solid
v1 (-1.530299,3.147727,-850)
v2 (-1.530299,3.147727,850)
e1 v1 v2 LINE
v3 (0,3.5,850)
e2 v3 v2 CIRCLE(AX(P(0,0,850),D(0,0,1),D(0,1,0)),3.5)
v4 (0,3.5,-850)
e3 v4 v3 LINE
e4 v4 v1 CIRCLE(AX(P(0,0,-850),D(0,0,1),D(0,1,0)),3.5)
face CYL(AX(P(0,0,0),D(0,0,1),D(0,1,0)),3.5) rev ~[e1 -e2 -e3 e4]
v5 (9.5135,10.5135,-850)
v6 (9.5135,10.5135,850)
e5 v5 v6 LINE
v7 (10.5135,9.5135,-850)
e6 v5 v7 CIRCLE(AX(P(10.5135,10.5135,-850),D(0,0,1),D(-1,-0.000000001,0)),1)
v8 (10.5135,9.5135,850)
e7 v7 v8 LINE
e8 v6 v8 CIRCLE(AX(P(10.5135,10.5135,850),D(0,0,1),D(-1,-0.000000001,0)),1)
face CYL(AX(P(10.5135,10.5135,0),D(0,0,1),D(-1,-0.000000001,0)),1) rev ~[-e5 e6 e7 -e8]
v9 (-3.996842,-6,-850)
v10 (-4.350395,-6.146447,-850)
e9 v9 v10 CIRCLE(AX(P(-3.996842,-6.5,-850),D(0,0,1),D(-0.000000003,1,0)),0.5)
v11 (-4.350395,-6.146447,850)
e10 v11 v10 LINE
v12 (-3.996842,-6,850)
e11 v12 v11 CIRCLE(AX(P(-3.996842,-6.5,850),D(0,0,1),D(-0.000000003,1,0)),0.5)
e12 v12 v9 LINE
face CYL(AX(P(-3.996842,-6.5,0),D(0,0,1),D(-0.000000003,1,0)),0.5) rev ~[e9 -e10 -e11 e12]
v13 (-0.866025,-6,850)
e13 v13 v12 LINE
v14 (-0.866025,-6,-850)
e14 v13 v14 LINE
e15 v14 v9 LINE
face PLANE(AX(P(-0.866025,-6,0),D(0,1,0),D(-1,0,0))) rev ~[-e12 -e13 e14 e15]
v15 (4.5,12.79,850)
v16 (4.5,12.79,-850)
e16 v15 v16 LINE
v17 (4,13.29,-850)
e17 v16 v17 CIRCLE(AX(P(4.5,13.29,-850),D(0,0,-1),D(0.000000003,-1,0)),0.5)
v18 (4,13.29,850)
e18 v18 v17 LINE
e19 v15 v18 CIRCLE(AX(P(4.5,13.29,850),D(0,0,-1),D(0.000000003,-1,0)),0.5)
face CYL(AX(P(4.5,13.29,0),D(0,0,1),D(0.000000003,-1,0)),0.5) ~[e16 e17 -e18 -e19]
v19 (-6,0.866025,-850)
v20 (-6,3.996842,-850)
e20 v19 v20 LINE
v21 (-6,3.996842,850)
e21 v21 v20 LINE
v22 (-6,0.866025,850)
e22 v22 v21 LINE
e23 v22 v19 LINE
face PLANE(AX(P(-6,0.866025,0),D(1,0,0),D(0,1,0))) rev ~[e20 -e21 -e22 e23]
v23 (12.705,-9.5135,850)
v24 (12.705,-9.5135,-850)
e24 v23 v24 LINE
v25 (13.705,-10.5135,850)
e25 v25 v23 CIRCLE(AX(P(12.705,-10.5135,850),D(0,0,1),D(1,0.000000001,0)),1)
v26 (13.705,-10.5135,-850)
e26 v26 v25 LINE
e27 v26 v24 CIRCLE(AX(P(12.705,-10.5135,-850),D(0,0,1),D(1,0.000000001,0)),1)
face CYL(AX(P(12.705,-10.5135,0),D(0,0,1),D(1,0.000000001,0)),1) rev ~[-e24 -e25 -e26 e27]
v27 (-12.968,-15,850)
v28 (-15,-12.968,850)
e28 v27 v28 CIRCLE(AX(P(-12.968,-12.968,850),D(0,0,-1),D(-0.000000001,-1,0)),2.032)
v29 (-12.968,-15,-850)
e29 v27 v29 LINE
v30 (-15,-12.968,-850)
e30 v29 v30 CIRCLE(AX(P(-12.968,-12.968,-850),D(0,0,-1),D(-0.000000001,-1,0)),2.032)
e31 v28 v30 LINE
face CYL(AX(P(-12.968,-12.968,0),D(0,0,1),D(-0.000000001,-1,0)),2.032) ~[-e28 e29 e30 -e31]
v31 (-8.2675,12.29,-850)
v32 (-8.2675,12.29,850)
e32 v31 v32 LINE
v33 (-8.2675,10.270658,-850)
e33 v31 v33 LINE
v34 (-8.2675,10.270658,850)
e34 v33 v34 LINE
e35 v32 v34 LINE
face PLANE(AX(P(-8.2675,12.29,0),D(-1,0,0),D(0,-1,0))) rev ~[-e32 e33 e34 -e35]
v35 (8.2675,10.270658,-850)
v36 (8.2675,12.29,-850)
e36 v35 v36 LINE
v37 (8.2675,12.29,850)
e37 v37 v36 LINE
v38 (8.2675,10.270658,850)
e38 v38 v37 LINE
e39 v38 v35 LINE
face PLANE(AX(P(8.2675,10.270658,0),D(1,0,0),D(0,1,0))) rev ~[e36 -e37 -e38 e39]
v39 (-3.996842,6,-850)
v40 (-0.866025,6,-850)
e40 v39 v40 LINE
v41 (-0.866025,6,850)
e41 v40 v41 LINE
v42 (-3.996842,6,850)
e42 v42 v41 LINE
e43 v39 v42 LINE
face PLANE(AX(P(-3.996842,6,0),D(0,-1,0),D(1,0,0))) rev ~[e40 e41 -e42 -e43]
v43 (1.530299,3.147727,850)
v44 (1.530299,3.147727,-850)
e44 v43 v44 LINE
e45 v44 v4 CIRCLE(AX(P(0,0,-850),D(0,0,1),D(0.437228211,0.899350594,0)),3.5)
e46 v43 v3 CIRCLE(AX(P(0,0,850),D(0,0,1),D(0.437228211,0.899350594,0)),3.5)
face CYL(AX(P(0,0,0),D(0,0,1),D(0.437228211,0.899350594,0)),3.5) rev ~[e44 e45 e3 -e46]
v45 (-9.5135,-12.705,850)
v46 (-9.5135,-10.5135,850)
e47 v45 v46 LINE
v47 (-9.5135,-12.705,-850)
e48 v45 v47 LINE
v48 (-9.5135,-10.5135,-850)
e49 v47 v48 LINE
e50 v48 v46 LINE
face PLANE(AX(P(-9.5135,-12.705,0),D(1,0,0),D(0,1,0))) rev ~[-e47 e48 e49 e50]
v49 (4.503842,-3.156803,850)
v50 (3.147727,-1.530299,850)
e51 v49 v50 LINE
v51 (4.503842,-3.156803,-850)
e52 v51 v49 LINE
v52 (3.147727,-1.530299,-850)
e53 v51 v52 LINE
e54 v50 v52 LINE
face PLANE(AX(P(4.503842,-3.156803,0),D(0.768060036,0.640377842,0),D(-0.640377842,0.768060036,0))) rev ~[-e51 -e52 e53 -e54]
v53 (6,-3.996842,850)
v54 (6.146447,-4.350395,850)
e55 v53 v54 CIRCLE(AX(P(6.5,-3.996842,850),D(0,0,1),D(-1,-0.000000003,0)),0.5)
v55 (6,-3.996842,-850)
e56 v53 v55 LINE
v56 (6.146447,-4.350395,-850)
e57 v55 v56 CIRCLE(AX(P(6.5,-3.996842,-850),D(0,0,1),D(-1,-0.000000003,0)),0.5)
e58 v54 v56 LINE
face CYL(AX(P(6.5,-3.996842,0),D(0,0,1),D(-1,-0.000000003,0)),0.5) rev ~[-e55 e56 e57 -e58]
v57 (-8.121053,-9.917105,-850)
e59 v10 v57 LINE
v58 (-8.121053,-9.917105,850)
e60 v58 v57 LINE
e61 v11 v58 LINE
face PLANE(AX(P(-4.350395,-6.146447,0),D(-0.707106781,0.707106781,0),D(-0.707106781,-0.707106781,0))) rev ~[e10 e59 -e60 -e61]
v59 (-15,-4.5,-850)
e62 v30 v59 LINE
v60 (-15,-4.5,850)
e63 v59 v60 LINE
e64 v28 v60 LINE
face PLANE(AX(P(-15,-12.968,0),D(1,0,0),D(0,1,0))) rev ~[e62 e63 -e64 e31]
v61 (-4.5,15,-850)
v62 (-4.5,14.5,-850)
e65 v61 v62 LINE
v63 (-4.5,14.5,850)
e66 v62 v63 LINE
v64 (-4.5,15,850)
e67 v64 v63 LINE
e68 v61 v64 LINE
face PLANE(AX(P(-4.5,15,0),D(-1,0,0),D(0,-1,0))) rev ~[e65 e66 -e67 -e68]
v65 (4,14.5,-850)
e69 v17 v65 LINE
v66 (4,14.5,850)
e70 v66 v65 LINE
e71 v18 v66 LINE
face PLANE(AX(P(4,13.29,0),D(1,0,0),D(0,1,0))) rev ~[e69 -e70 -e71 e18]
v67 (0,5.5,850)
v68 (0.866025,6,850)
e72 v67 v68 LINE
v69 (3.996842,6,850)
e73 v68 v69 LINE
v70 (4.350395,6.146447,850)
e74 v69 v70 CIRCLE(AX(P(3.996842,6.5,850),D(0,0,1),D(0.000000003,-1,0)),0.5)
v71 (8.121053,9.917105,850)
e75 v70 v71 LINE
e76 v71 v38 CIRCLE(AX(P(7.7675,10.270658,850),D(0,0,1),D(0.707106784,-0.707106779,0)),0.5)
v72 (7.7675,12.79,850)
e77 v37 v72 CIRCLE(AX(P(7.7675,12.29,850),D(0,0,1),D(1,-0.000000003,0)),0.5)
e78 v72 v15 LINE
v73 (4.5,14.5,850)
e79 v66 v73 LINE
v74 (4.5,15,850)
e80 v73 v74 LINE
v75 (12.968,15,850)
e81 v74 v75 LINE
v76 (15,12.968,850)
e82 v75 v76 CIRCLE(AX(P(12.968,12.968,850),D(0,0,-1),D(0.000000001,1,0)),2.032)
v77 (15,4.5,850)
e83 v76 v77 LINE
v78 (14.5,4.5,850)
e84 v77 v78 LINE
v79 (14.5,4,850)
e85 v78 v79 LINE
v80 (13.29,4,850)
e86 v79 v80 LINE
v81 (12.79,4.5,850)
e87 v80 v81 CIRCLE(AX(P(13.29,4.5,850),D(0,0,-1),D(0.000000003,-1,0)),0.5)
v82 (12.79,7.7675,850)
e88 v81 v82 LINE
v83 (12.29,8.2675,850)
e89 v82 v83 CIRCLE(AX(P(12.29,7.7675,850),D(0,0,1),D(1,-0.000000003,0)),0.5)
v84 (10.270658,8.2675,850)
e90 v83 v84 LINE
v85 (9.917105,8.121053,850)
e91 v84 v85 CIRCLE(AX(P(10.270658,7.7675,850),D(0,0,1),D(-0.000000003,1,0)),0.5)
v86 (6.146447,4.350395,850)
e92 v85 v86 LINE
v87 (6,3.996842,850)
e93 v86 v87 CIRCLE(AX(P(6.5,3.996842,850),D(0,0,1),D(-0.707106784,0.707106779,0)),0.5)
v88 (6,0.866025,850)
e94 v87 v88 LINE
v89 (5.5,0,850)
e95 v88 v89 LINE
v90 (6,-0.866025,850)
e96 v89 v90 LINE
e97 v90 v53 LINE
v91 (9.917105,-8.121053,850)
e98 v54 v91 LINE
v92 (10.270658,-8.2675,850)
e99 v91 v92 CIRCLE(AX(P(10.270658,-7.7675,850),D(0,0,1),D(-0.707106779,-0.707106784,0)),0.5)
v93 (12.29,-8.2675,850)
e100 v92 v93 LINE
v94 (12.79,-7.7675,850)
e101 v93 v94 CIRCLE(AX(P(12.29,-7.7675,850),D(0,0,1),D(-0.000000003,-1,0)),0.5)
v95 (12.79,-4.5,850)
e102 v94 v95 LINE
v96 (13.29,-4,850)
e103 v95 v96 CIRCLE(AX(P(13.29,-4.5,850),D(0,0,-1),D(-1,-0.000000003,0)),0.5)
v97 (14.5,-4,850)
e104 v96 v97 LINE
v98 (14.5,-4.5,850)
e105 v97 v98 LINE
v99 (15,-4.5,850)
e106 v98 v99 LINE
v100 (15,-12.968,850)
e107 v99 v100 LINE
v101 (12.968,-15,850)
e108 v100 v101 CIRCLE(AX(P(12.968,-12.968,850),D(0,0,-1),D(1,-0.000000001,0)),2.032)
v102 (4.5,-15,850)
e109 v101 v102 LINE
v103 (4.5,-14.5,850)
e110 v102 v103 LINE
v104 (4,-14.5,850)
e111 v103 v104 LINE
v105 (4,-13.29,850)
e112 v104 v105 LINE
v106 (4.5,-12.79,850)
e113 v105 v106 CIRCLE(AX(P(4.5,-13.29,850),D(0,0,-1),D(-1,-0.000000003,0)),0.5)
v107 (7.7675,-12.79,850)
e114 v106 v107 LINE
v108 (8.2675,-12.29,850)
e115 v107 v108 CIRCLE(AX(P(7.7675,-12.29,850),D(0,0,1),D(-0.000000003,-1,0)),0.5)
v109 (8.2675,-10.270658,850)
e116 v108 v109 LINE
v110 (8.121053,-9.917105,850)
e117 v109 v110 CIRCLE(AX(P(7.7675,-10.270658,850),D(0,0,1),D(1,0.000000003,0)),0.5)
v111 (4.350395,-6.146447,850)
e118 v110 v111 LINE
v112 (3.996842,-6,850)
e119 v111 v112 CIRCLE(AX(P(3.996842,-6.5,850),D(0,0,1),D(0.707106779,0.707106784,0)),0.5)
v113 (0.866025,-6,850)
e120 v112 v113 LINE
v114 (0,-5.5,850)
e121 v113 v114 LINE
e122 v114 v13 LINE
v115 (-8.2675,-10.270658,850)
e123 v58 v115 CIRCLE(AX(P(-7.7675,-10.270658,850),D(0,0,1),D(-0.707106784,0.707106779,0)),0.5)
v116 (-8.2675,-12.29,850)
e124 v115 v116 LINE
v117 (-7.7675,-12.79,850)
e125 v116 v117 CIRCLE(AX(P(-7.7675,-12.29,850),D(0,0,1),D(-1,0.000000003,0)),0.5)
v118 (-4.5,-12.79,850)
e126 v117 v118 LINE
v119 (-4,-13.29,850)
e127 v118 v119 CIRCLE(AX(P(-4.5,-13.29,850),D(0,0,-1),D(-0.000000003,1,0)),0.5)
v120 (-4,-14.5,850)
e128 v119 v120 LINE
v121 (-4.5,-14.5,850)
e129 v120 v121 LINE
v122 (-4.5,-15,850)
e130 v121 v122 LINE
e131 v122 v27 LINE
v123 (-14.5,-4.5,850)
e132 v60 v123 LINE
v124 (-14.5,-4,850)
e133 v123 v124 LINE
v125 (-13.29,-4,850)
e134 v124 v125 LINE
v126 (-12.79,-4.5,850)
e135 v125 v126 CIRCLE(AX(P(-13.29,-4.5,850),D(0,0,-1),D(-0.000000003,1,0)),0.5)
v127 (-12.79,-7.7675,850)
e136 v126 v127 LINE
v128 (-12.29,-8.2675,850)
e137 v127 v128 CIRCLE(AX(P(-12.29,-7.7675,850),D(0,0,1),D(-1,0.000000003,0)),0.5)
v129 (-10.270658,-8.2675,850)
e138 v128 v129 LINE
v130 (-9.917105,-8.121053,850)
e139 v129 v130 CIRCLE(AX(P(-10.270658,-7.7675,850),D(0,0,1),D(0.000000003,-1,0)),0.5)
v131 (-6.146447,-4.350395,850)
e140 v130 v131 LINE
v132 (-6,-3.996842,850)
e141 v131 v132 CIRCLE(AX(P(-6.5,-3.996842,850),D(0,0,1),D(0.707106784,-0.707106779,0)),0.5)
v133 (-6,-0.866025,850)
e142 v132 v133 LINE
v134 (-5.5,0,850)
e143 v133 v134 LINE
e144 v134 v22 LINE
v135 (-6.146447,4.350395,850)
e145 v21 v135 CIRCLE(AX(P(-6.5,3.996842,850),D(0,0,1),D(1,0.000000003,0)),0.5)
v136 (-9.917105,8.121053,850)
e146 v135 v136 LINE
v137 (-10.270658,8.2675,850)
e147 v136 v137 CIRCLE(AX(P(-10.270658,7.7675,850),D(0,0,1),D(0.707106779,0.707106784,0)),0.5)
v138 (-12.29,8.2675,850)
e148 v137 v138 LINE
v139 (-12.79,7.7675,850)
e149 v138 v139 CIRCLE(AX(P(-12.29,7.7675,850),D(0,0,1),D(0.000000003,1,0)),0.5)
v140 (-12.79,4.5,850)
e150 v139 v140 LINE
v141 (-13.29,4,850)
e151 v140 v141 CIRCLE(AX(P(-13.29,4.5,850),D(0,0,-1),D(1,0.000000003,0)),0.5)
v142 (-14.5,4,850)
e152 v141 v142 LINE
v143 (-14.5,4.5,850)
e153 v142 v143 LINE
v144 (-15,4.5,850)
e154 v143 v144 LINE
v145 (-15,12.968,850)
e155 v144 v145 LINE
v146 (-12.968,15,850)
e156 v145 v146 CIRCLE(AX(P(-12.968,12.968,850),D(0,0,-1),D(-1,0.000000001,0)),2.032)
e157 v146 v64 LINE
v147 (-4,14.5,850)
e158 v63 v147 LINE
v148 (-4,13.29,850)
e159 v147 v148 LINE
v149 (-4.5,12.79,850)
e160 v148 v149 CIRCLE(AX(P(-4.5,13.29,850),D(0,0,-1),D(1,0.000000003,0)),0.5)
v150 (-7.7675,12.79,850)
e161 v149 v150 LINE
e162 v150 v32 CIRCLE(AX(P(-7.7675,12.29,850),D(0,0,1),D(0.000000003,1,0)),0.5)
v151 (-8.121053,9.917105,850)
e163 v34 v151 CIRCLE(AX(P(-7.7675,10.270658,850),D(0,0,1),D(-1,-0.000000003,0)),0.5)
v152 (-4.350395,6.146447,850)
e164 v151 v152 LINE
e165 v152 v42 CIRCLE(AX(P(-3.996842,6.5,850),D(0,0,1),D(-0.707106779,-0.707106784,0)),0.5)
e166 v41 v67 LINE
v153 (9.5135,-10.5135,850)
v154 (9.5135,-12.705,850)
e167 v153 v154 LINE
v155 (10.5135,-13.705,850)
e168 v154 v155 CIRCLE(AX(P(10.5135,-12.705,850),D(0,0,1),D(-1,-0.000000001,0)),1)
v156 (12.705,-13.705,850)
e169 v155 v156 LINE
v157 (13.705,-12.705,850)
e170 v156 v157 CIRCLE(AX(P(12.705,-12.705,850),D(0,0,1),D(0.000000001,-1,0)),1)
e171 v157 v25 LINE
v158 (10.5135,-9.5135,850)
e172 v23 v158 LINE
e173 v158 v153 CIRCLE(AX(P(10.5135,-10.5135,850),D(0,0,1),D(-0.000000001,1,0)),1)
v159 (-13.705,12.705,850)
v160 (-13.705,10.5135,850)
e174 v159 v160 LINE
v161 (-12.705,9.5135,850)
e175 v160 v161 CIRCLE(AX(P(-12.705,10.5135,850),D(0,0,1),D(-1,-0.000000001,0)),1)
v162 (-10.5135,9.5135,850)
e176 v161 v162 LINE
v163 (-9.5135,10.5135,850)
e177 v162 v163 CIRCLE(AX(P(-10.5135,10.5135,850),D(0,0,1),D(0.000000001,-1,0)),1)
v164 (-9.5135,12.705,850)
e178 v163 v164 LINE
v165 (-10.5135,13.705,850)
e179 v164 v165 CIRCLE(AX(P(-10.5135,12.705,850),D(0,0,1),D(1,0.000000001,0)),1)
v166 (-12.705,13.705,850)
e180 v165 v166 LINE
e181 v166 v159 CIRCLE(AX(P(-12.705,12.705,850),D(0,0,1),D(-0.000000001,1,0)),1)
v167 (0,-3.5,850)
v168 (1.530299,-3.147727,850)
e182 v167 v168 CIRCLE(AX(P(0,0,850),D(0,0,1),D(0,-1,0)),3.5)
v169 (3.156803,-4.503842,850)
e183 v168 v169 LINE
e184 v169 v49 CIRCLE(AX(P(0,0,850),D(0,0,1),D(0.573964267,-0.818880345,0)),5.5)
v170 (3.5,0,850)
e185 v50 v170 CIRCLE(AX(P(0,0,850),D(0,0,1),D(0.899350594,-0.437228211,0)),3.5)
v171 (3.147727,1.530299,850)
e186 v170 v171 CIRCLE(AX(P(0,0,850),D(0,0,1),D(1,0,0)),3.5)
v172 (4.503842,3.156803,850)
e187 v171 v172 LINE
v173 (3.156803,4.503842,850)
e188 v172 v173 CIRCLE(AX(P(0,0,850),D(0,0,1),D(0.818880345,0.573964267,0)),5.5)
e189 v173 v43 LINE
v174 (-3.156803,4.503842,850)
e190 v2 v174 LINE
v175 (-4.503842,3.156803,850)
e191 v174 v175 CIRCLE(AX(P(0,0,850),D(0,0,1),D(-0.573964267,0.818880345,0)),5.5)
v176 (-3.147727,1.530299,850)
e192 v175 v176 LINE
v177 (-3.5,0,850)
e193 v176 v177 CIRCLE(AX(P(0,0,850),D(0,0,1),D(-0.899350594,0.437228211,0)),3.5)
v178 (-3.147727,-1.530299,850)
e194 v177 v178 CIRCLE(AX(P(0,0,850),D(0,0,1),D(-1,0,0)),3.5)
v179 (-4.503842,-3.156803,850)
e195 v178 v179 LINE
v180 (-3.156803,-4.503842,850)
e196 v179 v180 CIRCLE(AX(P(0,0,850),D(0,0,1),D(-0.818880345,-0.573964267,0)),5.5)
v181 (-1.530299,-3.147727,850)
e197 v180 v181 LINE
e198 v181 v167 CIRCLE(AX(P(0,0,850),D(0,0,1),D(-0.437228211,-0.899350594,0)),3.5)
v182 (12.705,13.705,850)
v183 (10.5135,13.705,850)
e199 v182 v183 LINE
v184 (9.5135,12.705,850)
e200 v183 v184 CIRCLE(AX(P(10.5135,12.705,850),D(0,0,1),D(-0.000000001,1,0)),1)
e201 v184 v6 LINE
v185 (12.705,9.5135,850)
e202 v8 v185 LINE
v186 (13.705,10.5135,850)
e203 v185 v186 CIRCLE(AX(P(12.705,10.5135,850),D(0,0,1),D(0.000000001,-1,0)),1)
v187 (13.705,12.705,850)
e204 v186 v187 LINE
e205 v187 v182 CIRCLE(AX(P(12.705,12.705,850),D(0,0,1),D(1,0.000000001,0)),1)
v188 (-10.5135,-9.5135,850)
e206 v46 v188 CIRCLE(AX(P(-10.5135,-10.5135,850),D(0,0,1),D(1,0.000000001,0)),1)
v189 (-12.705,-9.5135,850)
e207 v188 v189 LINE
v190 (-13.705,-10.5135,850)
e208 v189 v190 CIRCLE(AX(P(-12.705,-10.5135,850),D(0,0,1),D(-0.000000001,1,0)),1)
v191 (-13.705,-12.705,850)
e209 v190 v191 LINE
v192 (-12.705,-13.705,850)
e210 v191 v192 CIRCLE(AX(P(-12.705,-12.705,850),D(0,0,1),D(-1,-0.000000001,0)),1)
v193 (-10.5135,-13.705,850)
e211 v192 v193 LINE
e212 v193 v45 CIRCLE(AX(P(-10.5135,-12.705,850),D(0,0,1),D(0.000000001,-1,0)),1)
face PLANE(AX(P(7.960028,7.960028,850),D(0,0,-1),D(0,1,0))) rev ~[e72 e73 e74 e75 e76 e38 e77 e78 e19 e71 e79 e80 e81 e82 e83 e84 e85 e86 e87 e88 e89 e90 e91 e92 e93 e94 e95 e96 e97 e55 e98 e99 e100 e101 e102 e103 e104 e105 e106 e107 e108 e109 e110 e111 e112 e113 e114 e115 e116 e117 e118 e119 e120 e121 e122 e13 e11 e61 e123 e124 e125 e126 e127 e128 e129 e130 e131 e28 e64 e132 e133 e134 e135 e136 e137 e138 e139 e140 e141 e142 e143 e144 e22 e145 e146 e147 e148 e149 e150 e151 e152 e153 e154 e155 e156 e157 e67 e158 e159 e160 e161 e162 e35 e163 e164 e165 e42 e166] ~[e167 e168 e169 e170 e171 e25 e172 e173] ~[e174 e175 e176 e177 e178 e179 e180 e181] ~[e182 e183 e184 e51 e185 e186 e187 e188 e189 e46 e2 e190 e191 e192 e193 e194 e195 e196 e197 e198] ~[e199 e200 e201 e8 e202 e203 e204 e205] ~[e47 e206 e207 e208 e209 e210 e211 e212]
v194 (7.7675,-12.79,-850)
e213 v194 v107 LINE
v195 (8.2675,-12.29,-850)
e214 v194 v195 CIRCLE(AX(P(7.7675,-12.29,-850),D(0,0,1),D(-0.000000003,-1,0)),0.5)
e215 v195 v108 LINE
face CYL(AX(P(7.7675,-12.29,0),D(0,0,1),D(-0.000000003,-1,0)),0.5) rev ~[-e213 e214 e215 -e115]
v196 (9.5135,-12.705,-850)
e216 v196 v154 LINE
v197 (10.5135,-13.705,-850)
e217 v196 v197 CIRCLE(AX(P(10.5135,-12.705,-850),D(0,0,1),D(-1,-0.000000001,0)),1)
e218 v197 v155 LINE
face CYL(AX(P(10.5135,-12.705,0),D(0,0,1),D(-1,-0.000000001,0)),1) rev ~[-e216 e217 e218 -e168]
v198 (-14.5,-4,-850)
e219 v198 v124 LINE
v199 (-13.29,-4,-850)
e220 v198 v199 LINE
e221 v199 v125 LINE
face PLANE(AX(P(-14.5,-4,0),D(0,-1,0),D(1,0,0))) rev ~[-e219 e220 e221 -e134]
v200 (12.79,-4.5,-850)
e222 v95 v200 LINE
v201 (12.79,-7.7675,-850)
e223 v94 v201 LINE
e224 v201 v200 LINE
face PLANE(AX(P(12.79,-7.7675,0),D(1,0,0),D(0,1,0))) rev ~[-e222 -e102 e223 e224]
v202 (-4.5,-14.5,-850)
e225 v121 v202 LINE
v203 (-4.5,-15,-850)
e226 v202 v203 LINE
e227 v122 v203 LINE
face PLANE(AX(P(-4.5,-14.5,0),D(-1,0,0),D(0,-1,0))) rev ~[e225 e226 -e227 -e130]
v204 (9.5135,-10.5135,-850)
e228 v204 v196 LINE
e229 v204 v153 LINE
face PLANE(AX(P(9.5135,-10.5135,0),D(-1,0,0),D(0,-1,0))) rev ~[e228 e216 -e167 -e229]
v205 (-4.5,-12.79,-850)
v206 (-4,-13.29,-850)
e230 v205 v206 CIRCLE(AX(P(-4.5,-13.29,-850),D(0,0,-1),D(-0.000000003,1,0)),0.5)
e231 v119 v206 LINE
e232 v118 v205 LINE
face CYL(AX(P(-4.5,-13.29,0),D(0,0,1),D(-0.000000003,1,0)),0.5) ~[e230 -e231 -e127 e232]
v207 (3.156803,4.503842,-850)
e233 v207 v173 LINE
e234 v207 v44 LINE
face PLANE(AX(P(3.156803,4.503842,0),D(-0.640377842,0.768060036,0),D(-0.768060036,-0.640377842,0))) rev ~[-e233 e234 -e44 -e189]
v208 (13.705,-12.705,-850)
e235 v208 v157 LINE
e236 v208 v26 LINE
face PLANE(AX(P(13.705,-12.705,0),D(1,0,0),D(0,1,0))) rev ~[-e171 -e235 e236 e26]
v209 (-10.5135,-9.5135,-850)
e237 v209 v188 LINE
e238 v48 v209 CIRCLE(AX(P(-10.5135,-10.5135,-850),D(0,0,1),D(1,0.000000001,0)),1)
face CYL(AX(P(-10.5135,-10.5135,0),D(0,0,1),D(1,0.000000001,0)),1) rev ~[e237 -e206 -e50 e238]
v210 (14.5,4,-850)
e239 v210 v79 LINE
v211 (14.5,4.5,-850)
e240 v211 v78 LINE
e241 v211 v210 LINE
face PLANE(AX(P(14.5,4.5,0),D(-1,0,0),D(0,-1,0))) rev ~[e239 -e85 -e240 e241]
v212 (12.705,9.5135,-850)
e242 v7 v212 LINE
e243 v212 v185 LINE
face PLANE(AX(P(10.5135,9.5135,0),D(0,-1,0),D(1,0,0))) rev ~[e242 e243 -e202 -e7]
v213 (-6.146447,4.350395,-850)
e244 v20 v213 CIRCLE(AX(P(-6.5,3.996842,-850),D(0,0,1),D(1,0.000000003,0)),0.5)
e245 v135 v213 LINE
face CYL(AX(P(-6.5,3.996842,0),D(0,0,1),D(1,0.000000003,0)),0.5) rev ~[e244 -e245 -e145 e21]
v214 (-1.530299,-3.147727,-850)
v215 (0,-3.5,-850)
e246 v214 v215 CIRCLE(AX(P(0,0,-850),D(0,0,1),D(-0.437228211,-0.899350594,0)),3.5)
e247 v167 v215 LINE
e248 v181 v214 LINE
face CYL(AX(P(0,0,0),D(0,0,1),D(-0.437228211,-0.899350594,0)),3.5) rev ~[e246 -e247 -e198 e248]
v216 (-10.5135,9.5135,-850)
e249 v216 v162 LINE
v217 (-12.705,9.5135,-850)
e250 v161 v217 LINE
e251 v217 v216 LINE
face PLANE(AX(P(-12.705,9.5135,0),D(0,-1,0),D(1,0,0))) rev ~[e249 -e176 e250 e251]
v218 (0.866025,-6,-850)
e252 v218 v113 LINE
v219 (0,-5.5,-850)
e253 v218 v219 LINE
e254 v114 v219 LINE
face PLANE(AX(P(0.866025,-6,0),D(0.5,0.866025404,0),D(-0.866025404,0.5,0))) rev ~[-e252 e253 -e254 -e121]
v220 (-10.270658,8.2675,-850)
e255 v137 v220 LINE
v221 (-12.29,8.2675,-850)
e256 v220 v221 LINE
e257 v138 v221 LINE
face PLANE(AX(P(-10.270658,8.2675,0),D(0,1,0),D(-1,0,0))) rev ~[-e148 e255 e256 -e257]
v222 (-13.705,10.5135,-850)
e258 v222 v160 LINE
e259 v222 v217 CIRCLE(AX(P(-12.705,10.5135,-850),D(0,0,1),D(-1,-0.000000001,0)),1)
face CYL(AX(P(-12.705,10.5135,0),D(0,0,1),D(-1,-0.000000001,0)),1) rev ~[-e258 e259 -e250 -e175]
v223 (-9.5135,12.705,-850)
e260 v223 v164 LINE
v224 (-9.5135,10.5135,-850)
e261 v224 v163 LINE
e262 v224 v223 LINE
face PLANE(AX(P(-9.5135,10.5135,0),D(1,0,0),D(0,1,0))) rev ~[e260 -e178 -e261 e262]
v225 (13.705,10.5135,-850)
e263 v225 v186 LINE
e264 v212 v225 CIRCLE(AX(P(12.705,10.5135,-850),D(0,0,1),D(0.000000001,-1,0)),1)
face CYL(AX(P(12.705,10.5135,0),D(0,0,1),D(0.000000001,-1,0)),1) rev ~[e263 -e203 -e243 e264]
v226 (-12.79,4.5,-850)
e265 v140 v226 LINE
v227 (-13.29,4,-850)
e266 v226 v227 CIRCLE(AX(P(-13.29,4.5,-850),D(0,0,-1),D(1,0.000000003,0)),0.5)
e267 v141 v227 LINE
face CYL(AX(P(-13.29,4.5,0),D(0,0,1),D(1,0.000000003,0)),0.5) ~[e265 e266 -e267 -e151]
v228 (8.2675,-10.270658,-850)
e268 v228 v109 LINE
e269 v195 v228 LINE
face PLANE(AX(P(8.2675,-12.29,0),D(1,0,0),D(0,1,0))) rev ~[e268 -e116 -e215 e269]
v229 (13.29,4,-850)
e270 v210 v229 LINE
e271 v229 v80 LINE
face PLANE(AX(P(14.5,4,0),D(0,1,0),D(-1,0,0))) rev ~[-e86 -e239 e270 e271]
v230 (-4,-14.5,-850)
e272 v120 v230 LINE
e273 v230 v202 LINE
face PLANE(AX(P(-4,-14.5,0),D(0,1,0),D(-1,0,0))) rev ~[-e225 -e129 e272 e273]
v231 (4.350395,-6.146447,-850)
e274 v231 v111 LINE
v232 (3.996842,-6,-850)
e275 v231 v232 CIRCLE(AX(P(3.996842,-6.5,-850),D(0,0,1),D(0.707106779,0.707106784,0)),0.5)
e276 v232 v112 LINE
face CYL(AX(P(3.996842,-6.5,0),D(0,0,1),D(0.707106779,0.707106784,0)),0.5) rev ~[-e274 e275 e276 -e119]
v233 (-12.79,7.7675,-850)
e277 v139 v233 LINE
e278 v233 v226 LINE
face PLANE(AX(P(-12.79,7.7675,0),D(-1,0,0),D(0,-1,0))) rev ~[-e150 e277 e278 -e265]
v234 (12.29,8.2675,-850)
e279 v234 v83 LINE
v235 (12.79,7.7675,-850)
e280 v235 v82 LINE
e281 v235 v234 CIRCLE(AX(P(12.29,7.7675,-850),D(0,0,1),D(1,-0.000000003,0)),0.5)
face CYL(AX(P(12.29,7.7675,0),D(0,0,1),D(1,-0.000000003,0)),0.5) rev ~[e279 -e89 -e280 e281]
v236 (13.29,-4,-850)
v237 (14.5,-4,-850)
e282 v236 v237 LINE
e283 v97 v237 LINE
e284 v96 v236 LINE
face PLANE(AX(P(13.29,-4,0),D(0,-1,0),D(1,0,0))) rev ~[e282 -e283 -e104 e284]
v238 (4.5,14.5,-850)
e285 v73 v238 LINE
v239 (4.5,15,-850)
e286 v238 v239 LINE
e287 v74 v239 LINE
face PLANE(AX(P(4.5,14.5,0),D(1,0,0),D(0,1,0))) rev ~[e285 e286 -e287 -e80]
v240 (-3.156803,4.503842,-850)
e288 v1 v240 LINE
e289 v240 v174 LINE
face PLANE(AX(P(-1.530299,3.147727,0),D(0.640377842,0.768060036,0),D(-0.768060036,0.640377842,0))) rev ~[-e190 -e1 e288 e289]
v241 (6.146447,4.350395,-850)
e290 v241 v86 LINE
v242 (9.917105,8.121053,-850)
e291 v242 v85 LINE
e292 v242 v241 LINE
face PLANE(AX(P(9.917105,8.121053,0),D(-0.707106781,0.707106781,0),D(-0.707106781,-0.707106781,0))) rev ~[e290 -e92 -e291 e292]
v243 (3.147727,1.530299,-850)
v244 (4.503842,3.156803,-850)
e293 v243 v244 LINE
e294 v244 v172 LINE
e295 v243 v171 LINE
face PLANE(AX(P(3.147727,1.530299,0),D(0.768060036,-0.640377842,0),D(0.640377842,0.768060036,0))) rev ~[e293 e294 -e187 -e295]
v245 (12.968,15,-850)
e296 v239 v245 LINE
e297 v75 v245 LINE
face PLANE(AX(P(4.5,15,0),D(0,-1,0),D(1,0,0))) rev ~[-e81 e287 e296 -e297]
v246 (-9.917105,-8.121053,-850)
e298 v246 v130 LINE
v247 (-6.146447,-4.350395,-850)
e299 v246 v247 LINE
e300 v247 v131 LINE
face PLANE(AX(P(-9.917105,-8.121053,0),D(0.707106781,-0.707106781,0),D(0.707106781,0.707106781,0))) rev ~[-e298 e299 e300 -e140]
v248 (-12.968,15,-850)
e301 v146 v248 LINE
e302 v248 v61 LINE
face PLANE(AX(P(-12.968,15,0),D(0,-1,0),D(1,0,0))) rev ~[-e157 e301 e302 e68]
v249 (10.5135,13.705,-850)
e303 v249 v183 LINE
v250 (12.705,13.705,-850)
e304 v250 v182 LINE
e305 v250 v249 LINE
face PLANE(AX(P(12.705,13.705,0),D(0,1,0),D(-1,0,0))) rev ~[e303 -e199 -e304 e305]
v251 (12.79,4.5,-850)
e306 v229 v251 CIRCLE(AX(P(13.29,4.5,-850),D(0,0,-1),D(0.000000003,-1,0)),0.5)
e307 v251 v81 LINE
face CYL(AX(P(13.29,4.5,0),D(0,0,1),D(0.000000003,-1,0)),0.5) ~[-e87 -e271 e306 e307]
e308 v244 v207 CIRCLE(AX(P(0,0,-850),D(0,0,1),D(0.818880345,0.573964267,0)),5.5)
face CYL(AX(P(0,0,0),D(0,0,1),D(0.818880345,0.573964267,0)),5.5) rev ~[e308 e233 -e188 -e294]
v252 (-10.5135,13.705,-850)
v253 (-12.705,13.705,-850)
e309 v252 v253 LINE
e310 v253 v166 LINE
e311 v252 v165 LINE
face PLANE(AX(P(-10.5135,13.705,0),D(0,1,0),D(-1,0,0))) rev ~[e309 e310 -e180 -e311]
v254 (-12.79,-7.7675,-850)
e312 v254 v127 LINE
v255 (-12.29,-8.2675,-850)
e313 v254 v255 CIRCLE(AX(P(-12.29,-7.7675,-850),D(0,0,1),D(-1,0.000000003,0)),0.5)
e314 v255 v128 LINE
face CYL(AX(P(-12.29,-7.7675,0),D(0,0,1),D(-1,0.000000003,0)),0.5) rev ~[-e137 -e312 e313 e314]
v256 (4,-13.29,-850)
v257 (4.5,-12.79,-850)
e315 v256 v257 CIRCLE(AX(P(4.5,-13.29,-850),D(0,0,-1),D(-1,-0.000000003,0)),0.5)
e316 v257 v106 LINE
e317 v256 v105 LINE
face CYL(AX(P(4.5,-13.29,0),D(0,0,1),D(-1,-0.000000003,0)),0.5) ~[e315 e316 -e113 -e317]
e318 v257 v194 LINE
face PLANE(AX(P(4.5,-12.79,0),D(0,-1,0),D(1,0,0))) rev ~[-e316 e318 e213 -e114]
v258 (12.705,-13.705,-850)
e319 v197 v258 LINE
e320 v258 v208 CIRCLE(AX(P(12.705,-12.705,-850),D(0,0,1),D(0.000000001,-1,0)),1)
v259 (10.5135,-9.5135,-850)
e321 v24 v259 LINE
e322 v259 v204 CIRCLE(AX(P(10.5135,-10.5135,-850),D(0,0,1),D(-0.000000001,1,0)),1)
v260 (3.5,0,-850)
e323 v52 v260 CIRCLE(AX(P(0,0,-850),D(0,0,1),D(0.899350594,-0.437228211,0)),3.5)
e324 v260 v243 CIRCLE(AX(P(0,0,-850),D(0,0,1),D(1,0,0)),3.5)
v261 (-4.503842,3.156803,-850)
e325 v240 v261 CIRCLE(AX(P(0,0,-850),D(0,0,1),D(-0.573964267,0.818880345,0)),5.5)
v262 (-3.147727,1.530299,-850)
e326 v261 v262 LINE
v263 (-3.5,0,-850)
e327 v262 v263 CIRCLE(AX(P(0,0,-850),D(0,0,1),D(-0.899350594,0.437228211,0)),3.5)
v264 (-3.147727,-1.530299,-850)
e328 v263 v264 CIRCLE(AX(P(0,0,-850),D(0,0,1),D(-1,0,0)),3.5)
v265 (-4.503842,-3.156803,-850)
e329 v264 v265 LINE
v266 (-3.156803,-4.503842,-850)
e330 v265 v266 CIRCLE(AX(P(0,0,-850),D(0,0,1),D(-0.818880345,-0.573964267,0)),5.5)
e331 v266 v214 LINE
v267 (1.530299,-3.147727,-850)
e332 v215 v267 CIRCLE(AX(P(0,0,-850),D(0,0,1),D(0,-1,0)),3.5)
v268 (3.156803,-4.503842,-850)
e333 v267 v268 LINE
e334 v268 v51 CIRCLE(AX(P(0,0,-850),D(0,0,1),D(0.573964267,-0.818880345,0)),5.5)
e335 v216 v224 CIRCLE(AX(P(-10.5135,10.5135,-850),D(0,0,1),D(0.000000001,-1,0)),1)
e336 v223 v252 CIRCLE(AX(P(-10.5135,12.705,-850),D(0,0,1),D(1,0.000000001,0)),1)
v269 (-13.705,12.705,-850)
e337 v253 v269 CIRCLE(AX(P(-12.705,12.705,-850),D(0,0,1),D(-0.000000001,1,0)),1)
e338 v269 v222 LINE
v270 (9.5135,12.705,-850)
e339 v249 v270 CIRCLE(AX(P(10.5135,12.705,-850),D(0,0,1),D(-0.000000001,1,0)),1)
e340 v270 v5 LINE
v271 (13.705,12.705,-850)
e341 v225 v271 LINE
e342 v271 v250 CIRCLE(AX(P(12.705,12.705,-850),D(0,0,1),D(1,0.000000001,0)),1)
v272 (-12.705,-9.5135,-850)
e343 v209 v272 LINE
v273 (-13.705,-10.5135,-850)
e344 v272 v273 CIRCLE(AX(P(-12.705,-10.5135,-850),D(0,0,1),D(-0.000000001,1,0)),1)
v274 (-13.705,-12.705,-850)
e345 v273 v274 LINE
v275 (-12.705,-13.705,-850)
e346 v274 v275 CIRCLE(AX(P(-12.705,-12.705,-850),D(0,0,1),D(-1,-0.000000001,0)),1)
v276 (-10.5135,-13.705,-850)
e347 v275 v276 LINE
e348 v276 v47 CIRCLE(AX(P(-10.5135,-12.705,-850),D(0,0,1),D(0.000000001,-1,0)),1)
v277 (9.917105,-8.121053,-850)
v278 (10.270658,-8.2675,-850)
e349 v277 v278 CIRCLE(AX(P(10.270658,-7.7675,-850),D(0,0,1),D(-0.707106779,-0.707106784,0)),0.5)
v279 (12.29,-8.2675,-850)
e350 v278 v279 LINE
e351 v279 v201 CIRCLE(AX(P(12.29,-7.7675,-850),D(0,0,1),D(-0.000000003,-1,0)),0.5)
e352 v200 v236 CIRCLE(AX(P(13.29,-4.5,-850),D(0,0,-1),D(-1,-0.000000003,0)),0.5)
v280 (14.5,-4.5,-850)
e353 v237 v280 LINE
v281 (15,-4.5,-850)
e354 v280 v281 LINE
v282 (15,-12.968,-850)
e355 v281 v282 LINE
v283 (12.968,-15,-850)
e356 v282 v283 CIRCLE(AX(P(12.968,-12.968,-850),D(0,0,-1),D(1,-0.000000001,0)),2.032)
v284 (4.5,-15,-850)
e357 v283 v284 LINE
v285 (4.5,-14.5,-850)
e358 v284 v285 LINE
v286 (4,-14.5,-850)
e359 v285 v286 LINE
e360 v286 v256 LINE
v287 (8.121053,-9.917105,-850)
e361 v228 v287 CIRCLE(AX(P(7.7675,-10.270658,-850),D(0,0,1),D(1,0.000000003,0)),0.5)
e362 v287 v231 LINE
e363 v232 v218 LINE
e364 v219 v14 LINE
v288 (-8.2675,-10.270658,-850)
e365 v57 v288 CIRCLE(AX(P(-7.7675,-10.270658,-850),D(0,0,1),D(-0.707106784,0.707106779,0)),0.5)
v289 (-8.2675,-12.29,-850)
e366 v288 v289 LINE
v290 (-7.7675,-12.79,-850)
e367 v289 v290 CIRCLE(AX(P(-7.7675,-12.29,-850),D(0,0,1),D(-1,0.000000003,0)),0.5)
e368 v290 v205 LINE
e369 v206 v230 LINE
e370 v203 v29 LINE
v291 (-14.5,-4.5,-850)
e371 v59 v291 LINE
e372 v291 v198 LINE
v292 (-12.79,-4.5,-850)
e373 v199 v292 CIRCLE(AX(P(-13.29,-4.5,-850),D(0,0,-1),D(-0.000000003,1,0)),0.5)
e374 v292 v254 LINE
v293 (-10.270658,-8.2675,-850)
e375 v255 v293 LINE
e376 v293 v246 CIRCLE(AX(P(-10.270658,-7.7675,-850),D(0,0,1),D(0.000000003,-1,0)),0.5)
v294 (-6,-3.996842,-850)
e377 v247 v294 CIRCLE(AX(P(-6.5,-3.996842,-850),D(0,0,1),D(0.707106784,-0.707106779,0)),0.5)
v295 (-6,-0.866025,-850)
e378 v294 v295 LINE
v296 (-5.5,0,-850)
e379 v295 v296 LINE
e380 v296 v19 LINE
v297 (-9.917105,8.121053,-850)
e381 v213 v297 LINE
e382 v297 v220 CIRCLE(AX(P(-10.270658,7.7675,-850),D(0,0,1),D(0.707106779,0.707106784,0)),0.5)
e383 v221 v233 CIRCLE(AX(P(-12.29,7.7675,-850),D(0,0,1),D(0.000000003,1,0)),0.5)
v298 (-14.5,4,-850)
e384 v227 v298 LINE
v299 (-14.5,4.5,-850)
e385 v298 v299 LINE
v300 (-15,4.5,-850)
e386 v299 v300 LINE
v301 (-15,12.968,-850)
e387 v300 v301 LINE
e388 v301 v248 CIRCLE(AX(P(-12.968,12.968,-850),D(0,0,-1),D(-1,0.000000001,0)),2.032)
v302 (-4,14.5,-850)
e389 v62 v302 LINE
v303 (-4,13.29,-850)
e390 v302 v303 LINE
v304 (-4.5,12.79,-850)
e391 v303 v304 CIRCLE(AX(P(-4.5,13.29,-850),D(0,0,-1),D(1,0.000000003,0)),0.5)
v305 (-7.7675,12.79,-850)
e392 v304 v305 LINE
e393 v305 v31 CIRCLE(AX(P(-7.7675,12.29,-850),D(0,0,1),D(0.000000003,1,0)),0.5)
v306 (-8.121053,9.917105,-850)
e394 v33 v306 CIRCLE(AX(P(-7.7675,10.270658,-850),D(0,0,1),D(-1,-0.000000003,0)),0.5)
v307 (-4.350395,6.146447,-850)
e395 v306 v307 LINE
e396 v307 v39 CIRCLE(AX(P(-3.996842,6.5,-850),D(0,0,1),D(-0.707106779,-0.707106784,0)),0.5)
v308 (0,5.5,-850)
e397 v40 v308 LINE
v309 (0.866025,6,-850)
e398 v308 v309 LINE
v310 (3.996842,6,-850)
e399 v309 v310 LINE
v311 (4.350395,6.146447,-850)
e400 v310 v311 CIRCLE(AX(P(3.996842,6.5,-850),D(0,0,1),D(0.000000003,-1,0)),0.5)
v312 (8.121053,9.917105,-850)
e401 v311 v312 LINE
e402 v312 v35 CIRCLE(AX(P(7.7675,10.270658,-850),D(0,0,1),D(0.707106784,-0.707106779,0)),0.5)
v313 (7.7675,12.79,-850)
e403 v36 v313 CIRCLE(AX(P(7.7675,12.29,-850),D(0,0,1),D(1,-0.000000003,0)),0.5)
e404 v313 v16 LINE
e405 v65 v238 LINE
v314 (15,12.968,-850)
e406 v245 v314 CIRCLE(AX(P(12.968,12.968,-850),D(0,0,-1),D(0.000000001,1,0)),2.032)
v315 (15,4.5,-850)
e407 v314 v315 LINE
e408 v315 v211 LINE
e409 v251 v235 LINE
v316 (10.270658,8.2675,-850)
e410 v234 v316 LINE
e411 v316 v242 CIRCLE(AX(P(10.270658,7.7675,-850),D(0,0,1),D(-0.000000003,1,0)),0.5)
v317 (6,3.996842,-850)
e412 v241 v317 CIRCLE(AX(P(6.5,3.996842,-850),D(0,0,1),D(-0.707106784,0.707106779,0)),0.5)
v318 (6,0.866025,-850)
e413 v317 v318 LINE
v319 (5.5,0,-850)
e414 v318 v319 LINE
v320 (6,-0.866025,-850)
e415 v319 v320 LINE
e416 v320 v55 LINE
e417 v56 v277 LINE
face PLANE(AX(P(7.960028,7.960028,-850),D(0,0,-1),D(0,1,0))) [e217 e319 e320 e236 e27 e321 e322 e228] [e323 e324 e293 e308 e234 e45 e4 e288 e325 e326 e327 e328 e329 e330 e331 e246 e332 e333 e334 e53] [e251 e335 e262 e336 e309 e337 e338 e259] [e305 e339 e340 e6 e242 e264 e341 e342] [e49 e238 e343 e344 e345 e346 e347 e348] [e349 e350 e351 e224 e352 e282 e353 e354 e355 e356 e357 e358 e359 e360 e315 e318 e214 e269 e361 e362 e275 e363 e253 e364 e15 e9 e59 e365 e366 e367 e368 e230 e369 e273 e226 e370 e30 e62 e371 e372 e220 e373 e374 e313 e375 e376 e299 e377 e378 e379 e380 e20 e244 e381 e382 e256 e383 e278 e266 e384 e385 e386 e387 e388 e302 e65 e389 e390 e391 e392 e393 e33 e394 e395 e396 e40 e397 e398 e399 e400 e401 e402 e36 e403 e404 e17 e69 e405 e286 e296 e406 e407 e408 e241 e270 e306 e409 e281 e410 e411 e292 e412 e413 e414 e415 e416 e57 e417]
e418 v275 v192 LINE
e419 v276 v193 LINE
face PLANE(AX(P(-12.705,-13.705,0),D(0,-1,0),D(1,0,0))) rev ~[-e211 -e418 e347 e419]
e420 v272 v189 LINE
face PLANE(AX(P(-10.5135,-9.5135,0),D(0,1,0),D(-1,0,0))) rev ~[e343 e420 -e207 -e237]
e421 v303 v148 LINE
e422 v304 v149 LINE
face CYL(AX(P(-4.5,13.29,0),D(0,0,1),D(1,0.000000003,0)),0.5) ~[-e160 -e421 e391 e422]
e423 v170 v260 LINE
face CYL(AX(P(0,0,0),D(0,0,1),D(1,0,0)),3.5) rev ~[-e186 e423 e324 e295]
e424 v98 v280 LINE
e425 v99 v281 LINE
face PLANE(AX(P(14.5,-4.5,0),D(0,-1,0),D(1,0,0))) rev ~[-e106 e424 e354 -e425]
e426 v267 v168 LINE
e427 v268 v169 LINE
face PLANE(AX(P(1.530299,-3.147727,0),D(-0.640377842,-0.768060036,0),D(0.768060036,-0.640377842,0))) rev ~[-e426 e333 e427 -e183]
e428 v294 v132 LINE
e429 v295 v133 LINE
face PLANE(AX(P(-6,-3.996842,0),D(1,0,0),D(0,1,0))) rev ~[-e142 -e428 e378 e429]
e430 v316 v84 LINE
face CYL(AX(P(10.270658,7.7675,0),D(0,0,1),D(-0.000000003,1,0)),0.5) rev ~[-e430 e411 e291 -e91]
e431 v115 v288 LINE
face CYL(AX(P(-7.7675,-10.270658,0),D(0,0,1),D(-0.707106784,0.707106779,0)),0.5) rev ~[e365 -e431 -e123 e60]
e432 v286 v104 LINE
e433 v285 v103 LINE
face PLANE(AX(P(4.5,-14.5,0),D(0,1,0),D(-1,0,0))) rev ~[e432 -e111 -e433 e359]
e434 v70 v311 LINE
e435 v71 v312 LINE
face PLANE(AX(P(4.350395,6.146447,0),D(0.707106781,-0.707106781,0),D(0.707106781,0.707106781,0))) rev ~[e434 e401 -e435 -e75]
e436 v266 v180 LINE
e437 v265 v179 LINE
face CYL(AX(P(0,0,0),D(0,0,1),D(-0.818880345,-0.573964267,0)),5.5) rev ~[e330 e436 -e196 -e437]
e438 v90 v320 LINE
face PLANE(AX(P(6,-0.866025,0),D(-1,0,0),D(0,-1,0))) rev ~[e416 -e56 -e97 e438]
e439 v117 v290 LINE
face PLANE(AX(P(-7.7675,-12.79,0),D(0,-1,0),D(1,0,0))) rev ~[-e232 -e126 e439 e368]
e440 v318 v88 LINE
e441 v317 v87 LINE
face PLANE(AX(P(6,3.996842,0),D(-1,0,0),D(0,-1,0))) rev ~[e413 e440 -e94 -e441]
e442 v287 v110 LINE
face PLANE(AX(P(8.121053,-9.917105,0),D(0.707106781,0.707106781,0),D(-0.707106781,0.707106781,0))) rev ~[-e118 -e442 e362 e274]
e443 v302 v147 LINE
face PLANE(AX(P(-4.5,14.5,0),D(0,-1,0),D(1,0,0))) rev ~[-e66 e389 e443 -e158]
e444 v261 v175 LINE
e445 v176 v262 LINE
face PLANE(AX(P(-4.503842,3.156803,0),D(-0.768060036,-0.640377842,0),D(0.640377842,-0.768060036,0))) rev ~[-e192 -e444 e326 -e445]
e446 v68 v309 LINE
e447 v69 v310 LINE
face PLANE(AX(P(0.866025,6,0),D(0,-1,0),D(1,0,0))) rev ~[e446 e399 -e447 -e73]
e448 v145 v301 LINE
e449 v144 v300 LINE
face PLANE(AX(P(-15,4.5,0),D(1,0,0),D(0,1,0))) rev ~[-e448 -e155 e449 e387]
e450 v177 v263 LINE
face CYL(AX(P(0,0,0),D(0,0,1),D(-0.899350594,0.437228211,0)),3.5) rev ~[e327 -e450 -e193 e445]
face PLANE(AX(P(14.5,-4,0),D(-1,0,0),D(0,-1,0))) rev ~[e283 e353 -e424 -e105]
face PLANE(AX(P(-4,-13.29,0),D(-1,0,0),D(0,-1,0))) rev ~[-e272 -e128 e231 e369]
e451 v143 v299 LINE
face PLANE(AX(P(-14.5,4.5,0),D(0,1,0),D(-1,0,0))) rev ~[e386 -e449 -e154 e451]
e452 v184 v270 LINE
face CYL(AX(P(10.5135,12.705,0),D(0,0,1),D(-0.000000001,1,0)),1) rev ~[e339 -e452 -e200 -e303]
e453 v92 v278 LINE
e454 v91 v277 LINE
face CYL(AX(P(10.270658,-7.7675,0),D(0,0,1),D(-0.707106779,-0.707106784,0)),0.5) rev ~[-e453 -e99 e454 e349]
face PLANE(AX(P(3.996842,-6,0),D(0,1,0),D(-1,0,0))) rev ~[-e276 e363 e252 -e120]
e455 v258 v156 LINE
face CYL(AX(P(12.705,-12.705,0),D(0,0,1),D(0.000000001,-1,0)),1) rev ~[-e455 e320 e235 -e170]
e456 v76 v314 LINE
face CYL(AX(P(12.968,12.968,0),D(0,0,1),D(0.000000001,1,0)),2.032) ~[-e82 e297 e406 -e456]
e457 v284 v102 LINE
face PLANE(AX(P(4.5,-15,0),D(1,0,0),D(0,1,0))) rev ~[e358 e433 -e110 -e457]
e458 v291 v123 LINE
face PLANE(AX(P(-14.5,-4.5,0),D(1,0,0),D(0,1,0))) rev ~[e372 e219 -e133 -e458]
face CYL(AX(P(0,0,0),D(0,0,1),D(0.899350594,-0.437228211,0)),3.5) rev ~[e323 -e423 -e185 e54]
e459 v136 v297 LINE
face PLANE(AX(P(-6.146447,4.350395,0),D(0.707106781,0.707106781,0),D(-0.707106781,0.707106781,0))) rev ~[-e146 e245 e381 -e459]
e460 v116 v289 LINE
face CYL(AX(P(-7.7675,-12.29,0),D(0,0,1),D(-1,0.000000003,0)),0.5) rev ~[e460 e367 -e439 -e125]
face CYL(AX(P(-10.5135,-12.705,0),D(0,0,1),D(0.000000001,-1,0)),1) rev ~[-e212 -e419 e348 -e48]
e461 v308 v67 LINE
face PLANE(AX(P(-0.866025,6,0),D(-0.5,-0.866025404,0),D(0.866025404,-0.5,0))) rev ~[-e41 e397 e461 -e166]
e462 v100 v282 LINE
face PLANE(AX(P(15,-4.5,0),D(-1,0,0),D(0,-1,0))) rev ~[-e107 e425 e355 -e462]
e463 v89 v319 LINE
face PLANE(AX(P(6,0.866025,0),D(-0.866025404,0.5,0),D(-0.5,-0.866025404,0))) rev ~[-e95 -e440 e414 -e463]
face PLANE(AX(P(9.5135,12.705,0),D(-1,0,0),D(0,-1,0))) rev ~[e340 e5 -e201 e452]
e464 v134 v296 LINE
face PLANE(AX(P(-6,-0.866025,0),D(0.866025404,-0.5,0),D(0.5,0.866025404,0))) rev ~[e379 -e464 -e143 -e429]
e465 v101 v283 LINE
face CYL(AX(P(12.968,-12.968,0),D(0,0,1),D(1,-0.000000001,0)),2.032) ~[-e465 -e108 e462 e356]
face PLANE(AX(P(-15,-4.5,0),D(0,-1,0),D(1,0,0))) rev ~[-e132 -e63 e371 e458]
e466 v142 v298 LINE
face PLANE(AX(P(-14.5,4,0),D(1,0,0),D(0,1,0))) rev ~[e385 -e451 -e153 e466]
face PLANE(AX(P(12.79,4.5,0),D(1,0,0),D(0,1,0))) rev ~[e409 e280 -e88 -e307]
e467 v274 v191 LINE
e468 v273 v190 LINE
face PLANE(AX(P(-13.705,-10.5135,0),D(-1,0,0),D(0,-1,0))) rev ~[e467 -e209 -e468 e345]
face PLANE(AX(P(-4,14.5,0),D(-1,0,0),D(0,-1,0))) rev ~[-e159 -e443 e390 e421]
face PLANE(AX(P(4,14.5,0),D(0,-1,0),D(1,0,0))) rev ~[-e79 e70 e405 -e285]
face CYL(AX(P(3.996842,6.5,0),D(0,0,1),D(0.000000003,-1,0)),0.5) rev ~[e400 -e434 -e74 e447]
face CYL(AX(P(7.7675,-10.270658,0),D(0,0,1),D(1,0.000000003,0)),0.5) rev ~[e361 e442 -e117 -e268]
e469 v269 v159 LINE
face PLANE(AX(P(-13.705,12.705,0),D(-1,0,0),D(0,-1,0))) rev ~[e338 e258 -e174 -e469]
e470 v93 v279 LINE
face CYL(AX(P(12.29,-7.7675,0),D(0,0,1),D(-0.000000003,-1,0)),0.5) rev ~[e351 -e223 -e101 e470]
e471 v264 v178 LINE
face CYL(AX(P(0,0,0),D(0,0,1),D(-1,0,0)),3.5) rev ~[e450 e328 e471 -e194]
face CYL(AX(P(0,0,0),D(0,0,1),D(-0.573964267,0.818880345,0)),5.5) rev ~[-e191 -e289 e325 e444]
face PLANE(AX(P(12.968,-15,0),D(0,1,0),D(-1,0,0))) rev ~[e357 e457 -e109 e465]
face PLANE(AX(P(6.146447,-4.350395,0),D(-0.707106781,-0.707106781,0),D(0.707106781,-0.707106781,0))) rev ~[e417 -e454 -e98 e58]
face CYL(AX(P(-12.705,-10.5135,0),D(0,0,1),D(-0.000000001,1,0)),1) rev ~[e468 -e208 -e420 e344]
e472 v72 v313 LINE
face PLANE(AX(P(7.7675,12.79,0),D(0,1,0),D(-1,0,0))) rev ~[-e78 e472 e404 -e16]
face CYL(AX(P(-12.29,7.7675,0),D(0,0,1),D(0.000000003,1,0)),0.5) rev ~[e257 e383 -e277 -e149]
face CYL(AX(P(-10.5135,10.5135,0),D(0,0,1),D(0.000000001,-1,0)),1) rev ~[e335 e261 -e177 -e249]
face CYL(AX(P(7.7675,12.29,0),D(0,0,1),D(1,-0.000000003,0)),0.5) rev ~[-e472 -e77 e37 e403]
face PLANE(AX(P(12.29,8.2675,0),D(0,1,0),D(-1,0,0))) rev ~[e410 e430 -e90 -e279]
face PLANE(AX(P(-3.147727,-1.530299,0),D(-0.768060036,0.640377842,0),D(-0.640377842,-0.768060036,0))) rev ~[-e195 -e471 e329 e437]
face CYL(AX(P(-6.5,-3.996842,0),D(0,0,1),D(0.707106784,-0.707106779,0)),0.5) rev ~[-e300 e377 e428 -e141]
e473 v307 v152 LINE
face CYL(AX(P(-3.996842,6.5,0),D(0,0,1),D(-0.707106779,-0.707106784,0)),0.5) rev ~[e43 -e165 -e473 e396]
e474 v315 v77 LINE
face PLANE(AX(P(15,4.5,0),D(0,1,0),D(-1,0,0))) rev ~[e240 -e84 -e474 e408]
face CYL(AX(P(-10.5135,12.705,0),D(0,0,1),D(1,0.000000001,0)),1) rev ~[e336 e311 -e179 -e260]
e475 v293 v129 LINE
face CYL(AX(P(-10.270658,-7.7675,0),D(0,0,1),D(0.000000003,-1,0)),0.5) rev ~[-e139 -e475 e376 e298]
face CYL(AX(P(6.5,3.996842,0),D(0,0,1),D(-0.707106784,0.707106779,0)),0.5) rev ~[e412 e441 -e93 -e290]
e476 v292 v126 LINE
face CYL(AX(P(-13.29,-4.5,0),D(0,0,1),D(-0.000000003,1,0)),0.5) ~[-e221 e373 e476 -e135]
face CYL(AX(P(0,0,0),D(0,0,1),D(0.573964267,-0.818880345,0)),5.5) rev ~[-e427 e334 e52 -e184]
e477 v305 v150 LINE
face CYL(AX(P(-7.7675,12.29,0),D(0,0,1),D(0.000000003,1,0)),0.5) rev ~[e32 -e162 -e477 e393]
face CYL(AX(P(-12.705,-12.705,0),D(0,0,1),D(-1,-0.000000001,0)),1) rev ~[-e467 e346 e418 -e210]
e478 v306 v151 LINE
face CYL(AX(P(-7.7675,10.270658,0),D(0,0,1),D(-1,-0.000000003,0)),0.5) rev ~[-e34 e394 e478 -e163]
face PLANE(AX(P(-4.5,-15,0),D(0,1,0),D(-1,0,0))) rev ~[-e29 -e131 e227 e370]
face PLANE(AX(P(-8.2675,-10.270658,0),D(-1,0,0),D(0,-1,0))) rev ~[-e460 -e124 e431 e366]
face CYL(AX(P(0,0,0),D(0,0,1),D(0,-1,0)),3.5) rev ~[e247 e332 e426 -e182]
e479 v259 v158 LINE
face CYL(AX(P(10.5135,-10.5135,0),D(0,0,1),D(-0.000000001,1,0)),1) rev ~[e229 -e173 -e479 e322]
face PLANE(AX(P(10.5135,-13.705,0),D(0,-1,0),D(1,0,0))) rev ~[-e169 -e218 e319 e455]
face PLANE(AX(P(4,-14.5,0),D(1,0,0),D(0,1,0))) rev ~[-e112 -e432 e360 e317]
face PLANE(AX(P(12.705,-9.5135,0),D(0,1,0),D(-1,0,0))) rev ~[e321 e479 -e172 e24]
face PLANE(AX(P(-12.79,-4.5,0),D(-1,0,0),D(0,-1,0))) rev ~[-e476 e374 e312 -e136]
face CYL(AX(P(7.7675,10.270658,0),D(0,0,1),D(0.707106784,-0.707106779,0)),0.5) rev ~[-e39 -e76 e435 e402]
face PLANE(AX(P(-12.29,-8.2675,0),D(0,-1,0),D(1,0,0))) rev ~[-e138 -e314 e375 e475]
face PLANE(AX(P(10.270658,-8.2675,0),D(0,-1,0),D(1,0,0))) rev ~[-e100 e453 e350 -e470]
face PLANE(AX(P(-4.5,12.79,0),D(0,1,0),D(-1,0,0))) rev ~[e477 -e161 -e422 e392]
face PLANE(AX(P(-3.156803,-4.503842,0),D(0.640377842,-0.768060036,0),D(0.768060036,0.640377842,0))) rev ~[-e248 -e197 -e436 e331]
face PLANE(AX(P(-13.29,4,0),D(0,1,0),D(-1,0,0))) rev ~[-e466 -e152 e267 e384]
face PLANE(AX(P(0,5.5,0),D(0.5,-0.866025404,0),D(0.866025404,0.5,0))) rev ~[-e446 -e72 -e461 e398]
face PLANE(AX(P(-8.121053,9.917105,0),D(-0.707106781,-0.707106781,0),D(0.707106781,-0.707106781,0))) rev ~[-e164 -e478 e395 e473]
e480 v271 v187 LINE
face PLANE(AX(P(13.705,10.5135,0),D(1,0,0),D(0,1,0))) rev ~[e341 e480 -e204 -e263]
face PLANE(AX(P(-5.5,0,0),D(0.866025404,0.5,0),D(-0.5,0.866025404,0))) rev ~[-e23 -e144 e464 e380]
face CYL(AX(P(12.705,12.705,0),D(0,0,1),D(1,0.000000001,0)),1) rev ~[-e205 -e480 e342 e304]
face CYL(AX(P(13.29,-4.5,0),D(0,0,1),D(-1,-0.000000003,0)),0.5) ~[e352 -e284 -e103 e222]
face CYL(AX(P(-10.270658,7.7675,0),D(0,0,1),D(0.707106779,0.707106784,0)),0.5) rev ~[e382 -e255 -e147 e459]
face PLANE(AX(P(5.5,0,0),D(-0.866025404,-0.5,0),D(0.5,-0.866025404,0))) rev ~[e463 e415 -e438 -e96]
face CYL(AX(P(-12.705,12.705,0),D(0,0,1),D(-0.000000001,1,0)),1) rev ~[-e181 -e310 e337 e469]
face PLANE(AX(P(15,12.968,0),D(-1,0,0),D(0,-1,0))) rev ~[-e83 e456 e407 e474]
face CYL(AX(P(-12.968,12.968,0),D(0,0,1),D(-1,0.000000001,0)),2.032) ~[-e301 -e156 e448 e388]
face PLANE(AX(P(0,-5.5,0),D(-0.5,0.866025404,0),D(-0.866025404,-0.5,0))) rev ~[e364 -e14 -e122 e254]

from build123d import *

# Parameters (mm, degrees)
BOSS_EXTRUDE1_DEPTH = 850
CIRPATTERN1_COUNT   = 4


with BuildPart() as part:
    # Sketch3 → Boss-Extrude1 (new, symmetric)
    with BuildSketch(Plane.XY):
        with BuildLine():
            Line((-4.503841895, 3.156803476), (-3.14772708, 1.530298739))
            ThreePointArc((-3.14772708, 1.530298739), (-3.410794979, 0.785160882), (-3.5, 0))
            Line((-3.5, 0), (-5.5, 0))
            Line((-5.5, 0), (-6, 0.866025404))
            Line((-6, 0.866025404), (-6, 3.996841995))
            ThreePointArc((-6, 3.996841995), (-6.038060234, 4.188183711), (-6.146446609, 4.350395385))
            Line((-6.146446609, 4.350395385), (-9.917104615, 8.121053391))
            ThreePointArc((-9.917104615, 8.121053391), (-10.079316289, 8.229439766), (-10.270658005, 8.2675))
            Line((-10.270658005, 8.2675), (-12.29, 8.2675))
            ThreePointArc((-12.29, 8.2675), (-12.643553391, 8.121053391), (-12.79, 7.7675))
            Line((-12.79, 7.7675), (-12.79, 4.5))
            ThreePointArc((-12.79, 4.5), (-12.936446609, 4.146446609), (-13.29, 4))
            Line((-13.29, 4), (-14.5, 4))
            Line((-14.5, 4), (-14.5, 4.5))
            Line((-14.5, 4.5), (-15, 4.5))
            Line((-15, 4.5), (-15, 12.968))
            ThreePointArc((-15, 12.968), (-14.404840979, 14.404840979), (-12.968, 15))
            Line((-12.968, 15), (-4.5, 15))
            Line((-4.5, 15), (-4.5, 14.5))
            Line((-4.5, 14.5), (-4, 14.5))
            Line((-4, 14.5), (-4, 13.29))
            ThreePointArc((-4, 13.29), (-4.146446609, 12.936446609), (-4.5, 12.79))
            Line((-4.5, 12.79), (-7.7675, 12.79))
            ThreePointArc((-7.7675, 12.79), (-8.121053391, 12.643553391), (-8.2675, 12.29))
            Line((-8.2675, 12.29), (-8.2675, 10.270658005))
            ThreePointArc((-8.2675, 10.270658005), (-8.229439766, 10.079316289), (-8.121053391, 9.917104615))
            Line((-8.121053391, 9.917104615), (-4.350395385, 6.146446609))
            ThreePointArc((-4.350395385, 6.146446609), (-4.188183711, 6.038060234), (-3.996841995, 6))
            Line((-3.996841995, 6), (-0.866025404, 6))
            Line((-0.866025404, 6), (0, 5.5))
            Line((0, 5.5), (0, 3.5))
            ThreePointArc((0, 3.5), (-0.785160882, 3.410794979), (-1.530298739, 3.14772708))
            Line((-1.530298739, 3.14772708), (-3.156803476, 4.503841895))
            ThreePointArc((-3.156803476, 4.503841895), (-3.889087297, 3.889087297), (-4.503841895, 3.156803476))
        make_face()
        with BuildLine():
            Line((-12.705, 9.5135), (-10.5135, 9.5135))
            ThreePointArc((-10.5135, 9.5135), (-9.806393219, 9.806393219), (-9.5135, 10.5135))
            Line((-9.5135, 10.5135), (-9.5135, 12.705))
            ThreePointArc((-9.5135, 12.705), (-9.806393219, 13.412106781), (-10.5135, 13.705))
            Line((-10.5135, 13.705), (-12.705, 13.705))
            ThreePointArc((-12.705, 13.705), (-13.412106781, 13.412106781), (-13.705, 12.705))
            Line((-13.705, 12.705), (-13.705, 10.5135))
            ThreePointArc((-13.705, 10.5135), (-13.412106781, 9.806393219), (-12.705, 9.5135))
        make_face(mode=Mode.SUBTRACT)
    boss_extrude1 = extrude(amount=BOSS_EXTRUDE1_DEPTH, both=True)

    # CirPattern1: Boss-Extrude1 ×4 about axis
    cirpattern1_axis = Axis((0, 0, 0), (0, 0, 1))
    for i in range(1, CIRPATTERN1_COUNT):
        add(boss_extrude1.rotate(cirpattern1_axis, i * 360 / CIRPATTERN1_COUNT))


solid = part.part
